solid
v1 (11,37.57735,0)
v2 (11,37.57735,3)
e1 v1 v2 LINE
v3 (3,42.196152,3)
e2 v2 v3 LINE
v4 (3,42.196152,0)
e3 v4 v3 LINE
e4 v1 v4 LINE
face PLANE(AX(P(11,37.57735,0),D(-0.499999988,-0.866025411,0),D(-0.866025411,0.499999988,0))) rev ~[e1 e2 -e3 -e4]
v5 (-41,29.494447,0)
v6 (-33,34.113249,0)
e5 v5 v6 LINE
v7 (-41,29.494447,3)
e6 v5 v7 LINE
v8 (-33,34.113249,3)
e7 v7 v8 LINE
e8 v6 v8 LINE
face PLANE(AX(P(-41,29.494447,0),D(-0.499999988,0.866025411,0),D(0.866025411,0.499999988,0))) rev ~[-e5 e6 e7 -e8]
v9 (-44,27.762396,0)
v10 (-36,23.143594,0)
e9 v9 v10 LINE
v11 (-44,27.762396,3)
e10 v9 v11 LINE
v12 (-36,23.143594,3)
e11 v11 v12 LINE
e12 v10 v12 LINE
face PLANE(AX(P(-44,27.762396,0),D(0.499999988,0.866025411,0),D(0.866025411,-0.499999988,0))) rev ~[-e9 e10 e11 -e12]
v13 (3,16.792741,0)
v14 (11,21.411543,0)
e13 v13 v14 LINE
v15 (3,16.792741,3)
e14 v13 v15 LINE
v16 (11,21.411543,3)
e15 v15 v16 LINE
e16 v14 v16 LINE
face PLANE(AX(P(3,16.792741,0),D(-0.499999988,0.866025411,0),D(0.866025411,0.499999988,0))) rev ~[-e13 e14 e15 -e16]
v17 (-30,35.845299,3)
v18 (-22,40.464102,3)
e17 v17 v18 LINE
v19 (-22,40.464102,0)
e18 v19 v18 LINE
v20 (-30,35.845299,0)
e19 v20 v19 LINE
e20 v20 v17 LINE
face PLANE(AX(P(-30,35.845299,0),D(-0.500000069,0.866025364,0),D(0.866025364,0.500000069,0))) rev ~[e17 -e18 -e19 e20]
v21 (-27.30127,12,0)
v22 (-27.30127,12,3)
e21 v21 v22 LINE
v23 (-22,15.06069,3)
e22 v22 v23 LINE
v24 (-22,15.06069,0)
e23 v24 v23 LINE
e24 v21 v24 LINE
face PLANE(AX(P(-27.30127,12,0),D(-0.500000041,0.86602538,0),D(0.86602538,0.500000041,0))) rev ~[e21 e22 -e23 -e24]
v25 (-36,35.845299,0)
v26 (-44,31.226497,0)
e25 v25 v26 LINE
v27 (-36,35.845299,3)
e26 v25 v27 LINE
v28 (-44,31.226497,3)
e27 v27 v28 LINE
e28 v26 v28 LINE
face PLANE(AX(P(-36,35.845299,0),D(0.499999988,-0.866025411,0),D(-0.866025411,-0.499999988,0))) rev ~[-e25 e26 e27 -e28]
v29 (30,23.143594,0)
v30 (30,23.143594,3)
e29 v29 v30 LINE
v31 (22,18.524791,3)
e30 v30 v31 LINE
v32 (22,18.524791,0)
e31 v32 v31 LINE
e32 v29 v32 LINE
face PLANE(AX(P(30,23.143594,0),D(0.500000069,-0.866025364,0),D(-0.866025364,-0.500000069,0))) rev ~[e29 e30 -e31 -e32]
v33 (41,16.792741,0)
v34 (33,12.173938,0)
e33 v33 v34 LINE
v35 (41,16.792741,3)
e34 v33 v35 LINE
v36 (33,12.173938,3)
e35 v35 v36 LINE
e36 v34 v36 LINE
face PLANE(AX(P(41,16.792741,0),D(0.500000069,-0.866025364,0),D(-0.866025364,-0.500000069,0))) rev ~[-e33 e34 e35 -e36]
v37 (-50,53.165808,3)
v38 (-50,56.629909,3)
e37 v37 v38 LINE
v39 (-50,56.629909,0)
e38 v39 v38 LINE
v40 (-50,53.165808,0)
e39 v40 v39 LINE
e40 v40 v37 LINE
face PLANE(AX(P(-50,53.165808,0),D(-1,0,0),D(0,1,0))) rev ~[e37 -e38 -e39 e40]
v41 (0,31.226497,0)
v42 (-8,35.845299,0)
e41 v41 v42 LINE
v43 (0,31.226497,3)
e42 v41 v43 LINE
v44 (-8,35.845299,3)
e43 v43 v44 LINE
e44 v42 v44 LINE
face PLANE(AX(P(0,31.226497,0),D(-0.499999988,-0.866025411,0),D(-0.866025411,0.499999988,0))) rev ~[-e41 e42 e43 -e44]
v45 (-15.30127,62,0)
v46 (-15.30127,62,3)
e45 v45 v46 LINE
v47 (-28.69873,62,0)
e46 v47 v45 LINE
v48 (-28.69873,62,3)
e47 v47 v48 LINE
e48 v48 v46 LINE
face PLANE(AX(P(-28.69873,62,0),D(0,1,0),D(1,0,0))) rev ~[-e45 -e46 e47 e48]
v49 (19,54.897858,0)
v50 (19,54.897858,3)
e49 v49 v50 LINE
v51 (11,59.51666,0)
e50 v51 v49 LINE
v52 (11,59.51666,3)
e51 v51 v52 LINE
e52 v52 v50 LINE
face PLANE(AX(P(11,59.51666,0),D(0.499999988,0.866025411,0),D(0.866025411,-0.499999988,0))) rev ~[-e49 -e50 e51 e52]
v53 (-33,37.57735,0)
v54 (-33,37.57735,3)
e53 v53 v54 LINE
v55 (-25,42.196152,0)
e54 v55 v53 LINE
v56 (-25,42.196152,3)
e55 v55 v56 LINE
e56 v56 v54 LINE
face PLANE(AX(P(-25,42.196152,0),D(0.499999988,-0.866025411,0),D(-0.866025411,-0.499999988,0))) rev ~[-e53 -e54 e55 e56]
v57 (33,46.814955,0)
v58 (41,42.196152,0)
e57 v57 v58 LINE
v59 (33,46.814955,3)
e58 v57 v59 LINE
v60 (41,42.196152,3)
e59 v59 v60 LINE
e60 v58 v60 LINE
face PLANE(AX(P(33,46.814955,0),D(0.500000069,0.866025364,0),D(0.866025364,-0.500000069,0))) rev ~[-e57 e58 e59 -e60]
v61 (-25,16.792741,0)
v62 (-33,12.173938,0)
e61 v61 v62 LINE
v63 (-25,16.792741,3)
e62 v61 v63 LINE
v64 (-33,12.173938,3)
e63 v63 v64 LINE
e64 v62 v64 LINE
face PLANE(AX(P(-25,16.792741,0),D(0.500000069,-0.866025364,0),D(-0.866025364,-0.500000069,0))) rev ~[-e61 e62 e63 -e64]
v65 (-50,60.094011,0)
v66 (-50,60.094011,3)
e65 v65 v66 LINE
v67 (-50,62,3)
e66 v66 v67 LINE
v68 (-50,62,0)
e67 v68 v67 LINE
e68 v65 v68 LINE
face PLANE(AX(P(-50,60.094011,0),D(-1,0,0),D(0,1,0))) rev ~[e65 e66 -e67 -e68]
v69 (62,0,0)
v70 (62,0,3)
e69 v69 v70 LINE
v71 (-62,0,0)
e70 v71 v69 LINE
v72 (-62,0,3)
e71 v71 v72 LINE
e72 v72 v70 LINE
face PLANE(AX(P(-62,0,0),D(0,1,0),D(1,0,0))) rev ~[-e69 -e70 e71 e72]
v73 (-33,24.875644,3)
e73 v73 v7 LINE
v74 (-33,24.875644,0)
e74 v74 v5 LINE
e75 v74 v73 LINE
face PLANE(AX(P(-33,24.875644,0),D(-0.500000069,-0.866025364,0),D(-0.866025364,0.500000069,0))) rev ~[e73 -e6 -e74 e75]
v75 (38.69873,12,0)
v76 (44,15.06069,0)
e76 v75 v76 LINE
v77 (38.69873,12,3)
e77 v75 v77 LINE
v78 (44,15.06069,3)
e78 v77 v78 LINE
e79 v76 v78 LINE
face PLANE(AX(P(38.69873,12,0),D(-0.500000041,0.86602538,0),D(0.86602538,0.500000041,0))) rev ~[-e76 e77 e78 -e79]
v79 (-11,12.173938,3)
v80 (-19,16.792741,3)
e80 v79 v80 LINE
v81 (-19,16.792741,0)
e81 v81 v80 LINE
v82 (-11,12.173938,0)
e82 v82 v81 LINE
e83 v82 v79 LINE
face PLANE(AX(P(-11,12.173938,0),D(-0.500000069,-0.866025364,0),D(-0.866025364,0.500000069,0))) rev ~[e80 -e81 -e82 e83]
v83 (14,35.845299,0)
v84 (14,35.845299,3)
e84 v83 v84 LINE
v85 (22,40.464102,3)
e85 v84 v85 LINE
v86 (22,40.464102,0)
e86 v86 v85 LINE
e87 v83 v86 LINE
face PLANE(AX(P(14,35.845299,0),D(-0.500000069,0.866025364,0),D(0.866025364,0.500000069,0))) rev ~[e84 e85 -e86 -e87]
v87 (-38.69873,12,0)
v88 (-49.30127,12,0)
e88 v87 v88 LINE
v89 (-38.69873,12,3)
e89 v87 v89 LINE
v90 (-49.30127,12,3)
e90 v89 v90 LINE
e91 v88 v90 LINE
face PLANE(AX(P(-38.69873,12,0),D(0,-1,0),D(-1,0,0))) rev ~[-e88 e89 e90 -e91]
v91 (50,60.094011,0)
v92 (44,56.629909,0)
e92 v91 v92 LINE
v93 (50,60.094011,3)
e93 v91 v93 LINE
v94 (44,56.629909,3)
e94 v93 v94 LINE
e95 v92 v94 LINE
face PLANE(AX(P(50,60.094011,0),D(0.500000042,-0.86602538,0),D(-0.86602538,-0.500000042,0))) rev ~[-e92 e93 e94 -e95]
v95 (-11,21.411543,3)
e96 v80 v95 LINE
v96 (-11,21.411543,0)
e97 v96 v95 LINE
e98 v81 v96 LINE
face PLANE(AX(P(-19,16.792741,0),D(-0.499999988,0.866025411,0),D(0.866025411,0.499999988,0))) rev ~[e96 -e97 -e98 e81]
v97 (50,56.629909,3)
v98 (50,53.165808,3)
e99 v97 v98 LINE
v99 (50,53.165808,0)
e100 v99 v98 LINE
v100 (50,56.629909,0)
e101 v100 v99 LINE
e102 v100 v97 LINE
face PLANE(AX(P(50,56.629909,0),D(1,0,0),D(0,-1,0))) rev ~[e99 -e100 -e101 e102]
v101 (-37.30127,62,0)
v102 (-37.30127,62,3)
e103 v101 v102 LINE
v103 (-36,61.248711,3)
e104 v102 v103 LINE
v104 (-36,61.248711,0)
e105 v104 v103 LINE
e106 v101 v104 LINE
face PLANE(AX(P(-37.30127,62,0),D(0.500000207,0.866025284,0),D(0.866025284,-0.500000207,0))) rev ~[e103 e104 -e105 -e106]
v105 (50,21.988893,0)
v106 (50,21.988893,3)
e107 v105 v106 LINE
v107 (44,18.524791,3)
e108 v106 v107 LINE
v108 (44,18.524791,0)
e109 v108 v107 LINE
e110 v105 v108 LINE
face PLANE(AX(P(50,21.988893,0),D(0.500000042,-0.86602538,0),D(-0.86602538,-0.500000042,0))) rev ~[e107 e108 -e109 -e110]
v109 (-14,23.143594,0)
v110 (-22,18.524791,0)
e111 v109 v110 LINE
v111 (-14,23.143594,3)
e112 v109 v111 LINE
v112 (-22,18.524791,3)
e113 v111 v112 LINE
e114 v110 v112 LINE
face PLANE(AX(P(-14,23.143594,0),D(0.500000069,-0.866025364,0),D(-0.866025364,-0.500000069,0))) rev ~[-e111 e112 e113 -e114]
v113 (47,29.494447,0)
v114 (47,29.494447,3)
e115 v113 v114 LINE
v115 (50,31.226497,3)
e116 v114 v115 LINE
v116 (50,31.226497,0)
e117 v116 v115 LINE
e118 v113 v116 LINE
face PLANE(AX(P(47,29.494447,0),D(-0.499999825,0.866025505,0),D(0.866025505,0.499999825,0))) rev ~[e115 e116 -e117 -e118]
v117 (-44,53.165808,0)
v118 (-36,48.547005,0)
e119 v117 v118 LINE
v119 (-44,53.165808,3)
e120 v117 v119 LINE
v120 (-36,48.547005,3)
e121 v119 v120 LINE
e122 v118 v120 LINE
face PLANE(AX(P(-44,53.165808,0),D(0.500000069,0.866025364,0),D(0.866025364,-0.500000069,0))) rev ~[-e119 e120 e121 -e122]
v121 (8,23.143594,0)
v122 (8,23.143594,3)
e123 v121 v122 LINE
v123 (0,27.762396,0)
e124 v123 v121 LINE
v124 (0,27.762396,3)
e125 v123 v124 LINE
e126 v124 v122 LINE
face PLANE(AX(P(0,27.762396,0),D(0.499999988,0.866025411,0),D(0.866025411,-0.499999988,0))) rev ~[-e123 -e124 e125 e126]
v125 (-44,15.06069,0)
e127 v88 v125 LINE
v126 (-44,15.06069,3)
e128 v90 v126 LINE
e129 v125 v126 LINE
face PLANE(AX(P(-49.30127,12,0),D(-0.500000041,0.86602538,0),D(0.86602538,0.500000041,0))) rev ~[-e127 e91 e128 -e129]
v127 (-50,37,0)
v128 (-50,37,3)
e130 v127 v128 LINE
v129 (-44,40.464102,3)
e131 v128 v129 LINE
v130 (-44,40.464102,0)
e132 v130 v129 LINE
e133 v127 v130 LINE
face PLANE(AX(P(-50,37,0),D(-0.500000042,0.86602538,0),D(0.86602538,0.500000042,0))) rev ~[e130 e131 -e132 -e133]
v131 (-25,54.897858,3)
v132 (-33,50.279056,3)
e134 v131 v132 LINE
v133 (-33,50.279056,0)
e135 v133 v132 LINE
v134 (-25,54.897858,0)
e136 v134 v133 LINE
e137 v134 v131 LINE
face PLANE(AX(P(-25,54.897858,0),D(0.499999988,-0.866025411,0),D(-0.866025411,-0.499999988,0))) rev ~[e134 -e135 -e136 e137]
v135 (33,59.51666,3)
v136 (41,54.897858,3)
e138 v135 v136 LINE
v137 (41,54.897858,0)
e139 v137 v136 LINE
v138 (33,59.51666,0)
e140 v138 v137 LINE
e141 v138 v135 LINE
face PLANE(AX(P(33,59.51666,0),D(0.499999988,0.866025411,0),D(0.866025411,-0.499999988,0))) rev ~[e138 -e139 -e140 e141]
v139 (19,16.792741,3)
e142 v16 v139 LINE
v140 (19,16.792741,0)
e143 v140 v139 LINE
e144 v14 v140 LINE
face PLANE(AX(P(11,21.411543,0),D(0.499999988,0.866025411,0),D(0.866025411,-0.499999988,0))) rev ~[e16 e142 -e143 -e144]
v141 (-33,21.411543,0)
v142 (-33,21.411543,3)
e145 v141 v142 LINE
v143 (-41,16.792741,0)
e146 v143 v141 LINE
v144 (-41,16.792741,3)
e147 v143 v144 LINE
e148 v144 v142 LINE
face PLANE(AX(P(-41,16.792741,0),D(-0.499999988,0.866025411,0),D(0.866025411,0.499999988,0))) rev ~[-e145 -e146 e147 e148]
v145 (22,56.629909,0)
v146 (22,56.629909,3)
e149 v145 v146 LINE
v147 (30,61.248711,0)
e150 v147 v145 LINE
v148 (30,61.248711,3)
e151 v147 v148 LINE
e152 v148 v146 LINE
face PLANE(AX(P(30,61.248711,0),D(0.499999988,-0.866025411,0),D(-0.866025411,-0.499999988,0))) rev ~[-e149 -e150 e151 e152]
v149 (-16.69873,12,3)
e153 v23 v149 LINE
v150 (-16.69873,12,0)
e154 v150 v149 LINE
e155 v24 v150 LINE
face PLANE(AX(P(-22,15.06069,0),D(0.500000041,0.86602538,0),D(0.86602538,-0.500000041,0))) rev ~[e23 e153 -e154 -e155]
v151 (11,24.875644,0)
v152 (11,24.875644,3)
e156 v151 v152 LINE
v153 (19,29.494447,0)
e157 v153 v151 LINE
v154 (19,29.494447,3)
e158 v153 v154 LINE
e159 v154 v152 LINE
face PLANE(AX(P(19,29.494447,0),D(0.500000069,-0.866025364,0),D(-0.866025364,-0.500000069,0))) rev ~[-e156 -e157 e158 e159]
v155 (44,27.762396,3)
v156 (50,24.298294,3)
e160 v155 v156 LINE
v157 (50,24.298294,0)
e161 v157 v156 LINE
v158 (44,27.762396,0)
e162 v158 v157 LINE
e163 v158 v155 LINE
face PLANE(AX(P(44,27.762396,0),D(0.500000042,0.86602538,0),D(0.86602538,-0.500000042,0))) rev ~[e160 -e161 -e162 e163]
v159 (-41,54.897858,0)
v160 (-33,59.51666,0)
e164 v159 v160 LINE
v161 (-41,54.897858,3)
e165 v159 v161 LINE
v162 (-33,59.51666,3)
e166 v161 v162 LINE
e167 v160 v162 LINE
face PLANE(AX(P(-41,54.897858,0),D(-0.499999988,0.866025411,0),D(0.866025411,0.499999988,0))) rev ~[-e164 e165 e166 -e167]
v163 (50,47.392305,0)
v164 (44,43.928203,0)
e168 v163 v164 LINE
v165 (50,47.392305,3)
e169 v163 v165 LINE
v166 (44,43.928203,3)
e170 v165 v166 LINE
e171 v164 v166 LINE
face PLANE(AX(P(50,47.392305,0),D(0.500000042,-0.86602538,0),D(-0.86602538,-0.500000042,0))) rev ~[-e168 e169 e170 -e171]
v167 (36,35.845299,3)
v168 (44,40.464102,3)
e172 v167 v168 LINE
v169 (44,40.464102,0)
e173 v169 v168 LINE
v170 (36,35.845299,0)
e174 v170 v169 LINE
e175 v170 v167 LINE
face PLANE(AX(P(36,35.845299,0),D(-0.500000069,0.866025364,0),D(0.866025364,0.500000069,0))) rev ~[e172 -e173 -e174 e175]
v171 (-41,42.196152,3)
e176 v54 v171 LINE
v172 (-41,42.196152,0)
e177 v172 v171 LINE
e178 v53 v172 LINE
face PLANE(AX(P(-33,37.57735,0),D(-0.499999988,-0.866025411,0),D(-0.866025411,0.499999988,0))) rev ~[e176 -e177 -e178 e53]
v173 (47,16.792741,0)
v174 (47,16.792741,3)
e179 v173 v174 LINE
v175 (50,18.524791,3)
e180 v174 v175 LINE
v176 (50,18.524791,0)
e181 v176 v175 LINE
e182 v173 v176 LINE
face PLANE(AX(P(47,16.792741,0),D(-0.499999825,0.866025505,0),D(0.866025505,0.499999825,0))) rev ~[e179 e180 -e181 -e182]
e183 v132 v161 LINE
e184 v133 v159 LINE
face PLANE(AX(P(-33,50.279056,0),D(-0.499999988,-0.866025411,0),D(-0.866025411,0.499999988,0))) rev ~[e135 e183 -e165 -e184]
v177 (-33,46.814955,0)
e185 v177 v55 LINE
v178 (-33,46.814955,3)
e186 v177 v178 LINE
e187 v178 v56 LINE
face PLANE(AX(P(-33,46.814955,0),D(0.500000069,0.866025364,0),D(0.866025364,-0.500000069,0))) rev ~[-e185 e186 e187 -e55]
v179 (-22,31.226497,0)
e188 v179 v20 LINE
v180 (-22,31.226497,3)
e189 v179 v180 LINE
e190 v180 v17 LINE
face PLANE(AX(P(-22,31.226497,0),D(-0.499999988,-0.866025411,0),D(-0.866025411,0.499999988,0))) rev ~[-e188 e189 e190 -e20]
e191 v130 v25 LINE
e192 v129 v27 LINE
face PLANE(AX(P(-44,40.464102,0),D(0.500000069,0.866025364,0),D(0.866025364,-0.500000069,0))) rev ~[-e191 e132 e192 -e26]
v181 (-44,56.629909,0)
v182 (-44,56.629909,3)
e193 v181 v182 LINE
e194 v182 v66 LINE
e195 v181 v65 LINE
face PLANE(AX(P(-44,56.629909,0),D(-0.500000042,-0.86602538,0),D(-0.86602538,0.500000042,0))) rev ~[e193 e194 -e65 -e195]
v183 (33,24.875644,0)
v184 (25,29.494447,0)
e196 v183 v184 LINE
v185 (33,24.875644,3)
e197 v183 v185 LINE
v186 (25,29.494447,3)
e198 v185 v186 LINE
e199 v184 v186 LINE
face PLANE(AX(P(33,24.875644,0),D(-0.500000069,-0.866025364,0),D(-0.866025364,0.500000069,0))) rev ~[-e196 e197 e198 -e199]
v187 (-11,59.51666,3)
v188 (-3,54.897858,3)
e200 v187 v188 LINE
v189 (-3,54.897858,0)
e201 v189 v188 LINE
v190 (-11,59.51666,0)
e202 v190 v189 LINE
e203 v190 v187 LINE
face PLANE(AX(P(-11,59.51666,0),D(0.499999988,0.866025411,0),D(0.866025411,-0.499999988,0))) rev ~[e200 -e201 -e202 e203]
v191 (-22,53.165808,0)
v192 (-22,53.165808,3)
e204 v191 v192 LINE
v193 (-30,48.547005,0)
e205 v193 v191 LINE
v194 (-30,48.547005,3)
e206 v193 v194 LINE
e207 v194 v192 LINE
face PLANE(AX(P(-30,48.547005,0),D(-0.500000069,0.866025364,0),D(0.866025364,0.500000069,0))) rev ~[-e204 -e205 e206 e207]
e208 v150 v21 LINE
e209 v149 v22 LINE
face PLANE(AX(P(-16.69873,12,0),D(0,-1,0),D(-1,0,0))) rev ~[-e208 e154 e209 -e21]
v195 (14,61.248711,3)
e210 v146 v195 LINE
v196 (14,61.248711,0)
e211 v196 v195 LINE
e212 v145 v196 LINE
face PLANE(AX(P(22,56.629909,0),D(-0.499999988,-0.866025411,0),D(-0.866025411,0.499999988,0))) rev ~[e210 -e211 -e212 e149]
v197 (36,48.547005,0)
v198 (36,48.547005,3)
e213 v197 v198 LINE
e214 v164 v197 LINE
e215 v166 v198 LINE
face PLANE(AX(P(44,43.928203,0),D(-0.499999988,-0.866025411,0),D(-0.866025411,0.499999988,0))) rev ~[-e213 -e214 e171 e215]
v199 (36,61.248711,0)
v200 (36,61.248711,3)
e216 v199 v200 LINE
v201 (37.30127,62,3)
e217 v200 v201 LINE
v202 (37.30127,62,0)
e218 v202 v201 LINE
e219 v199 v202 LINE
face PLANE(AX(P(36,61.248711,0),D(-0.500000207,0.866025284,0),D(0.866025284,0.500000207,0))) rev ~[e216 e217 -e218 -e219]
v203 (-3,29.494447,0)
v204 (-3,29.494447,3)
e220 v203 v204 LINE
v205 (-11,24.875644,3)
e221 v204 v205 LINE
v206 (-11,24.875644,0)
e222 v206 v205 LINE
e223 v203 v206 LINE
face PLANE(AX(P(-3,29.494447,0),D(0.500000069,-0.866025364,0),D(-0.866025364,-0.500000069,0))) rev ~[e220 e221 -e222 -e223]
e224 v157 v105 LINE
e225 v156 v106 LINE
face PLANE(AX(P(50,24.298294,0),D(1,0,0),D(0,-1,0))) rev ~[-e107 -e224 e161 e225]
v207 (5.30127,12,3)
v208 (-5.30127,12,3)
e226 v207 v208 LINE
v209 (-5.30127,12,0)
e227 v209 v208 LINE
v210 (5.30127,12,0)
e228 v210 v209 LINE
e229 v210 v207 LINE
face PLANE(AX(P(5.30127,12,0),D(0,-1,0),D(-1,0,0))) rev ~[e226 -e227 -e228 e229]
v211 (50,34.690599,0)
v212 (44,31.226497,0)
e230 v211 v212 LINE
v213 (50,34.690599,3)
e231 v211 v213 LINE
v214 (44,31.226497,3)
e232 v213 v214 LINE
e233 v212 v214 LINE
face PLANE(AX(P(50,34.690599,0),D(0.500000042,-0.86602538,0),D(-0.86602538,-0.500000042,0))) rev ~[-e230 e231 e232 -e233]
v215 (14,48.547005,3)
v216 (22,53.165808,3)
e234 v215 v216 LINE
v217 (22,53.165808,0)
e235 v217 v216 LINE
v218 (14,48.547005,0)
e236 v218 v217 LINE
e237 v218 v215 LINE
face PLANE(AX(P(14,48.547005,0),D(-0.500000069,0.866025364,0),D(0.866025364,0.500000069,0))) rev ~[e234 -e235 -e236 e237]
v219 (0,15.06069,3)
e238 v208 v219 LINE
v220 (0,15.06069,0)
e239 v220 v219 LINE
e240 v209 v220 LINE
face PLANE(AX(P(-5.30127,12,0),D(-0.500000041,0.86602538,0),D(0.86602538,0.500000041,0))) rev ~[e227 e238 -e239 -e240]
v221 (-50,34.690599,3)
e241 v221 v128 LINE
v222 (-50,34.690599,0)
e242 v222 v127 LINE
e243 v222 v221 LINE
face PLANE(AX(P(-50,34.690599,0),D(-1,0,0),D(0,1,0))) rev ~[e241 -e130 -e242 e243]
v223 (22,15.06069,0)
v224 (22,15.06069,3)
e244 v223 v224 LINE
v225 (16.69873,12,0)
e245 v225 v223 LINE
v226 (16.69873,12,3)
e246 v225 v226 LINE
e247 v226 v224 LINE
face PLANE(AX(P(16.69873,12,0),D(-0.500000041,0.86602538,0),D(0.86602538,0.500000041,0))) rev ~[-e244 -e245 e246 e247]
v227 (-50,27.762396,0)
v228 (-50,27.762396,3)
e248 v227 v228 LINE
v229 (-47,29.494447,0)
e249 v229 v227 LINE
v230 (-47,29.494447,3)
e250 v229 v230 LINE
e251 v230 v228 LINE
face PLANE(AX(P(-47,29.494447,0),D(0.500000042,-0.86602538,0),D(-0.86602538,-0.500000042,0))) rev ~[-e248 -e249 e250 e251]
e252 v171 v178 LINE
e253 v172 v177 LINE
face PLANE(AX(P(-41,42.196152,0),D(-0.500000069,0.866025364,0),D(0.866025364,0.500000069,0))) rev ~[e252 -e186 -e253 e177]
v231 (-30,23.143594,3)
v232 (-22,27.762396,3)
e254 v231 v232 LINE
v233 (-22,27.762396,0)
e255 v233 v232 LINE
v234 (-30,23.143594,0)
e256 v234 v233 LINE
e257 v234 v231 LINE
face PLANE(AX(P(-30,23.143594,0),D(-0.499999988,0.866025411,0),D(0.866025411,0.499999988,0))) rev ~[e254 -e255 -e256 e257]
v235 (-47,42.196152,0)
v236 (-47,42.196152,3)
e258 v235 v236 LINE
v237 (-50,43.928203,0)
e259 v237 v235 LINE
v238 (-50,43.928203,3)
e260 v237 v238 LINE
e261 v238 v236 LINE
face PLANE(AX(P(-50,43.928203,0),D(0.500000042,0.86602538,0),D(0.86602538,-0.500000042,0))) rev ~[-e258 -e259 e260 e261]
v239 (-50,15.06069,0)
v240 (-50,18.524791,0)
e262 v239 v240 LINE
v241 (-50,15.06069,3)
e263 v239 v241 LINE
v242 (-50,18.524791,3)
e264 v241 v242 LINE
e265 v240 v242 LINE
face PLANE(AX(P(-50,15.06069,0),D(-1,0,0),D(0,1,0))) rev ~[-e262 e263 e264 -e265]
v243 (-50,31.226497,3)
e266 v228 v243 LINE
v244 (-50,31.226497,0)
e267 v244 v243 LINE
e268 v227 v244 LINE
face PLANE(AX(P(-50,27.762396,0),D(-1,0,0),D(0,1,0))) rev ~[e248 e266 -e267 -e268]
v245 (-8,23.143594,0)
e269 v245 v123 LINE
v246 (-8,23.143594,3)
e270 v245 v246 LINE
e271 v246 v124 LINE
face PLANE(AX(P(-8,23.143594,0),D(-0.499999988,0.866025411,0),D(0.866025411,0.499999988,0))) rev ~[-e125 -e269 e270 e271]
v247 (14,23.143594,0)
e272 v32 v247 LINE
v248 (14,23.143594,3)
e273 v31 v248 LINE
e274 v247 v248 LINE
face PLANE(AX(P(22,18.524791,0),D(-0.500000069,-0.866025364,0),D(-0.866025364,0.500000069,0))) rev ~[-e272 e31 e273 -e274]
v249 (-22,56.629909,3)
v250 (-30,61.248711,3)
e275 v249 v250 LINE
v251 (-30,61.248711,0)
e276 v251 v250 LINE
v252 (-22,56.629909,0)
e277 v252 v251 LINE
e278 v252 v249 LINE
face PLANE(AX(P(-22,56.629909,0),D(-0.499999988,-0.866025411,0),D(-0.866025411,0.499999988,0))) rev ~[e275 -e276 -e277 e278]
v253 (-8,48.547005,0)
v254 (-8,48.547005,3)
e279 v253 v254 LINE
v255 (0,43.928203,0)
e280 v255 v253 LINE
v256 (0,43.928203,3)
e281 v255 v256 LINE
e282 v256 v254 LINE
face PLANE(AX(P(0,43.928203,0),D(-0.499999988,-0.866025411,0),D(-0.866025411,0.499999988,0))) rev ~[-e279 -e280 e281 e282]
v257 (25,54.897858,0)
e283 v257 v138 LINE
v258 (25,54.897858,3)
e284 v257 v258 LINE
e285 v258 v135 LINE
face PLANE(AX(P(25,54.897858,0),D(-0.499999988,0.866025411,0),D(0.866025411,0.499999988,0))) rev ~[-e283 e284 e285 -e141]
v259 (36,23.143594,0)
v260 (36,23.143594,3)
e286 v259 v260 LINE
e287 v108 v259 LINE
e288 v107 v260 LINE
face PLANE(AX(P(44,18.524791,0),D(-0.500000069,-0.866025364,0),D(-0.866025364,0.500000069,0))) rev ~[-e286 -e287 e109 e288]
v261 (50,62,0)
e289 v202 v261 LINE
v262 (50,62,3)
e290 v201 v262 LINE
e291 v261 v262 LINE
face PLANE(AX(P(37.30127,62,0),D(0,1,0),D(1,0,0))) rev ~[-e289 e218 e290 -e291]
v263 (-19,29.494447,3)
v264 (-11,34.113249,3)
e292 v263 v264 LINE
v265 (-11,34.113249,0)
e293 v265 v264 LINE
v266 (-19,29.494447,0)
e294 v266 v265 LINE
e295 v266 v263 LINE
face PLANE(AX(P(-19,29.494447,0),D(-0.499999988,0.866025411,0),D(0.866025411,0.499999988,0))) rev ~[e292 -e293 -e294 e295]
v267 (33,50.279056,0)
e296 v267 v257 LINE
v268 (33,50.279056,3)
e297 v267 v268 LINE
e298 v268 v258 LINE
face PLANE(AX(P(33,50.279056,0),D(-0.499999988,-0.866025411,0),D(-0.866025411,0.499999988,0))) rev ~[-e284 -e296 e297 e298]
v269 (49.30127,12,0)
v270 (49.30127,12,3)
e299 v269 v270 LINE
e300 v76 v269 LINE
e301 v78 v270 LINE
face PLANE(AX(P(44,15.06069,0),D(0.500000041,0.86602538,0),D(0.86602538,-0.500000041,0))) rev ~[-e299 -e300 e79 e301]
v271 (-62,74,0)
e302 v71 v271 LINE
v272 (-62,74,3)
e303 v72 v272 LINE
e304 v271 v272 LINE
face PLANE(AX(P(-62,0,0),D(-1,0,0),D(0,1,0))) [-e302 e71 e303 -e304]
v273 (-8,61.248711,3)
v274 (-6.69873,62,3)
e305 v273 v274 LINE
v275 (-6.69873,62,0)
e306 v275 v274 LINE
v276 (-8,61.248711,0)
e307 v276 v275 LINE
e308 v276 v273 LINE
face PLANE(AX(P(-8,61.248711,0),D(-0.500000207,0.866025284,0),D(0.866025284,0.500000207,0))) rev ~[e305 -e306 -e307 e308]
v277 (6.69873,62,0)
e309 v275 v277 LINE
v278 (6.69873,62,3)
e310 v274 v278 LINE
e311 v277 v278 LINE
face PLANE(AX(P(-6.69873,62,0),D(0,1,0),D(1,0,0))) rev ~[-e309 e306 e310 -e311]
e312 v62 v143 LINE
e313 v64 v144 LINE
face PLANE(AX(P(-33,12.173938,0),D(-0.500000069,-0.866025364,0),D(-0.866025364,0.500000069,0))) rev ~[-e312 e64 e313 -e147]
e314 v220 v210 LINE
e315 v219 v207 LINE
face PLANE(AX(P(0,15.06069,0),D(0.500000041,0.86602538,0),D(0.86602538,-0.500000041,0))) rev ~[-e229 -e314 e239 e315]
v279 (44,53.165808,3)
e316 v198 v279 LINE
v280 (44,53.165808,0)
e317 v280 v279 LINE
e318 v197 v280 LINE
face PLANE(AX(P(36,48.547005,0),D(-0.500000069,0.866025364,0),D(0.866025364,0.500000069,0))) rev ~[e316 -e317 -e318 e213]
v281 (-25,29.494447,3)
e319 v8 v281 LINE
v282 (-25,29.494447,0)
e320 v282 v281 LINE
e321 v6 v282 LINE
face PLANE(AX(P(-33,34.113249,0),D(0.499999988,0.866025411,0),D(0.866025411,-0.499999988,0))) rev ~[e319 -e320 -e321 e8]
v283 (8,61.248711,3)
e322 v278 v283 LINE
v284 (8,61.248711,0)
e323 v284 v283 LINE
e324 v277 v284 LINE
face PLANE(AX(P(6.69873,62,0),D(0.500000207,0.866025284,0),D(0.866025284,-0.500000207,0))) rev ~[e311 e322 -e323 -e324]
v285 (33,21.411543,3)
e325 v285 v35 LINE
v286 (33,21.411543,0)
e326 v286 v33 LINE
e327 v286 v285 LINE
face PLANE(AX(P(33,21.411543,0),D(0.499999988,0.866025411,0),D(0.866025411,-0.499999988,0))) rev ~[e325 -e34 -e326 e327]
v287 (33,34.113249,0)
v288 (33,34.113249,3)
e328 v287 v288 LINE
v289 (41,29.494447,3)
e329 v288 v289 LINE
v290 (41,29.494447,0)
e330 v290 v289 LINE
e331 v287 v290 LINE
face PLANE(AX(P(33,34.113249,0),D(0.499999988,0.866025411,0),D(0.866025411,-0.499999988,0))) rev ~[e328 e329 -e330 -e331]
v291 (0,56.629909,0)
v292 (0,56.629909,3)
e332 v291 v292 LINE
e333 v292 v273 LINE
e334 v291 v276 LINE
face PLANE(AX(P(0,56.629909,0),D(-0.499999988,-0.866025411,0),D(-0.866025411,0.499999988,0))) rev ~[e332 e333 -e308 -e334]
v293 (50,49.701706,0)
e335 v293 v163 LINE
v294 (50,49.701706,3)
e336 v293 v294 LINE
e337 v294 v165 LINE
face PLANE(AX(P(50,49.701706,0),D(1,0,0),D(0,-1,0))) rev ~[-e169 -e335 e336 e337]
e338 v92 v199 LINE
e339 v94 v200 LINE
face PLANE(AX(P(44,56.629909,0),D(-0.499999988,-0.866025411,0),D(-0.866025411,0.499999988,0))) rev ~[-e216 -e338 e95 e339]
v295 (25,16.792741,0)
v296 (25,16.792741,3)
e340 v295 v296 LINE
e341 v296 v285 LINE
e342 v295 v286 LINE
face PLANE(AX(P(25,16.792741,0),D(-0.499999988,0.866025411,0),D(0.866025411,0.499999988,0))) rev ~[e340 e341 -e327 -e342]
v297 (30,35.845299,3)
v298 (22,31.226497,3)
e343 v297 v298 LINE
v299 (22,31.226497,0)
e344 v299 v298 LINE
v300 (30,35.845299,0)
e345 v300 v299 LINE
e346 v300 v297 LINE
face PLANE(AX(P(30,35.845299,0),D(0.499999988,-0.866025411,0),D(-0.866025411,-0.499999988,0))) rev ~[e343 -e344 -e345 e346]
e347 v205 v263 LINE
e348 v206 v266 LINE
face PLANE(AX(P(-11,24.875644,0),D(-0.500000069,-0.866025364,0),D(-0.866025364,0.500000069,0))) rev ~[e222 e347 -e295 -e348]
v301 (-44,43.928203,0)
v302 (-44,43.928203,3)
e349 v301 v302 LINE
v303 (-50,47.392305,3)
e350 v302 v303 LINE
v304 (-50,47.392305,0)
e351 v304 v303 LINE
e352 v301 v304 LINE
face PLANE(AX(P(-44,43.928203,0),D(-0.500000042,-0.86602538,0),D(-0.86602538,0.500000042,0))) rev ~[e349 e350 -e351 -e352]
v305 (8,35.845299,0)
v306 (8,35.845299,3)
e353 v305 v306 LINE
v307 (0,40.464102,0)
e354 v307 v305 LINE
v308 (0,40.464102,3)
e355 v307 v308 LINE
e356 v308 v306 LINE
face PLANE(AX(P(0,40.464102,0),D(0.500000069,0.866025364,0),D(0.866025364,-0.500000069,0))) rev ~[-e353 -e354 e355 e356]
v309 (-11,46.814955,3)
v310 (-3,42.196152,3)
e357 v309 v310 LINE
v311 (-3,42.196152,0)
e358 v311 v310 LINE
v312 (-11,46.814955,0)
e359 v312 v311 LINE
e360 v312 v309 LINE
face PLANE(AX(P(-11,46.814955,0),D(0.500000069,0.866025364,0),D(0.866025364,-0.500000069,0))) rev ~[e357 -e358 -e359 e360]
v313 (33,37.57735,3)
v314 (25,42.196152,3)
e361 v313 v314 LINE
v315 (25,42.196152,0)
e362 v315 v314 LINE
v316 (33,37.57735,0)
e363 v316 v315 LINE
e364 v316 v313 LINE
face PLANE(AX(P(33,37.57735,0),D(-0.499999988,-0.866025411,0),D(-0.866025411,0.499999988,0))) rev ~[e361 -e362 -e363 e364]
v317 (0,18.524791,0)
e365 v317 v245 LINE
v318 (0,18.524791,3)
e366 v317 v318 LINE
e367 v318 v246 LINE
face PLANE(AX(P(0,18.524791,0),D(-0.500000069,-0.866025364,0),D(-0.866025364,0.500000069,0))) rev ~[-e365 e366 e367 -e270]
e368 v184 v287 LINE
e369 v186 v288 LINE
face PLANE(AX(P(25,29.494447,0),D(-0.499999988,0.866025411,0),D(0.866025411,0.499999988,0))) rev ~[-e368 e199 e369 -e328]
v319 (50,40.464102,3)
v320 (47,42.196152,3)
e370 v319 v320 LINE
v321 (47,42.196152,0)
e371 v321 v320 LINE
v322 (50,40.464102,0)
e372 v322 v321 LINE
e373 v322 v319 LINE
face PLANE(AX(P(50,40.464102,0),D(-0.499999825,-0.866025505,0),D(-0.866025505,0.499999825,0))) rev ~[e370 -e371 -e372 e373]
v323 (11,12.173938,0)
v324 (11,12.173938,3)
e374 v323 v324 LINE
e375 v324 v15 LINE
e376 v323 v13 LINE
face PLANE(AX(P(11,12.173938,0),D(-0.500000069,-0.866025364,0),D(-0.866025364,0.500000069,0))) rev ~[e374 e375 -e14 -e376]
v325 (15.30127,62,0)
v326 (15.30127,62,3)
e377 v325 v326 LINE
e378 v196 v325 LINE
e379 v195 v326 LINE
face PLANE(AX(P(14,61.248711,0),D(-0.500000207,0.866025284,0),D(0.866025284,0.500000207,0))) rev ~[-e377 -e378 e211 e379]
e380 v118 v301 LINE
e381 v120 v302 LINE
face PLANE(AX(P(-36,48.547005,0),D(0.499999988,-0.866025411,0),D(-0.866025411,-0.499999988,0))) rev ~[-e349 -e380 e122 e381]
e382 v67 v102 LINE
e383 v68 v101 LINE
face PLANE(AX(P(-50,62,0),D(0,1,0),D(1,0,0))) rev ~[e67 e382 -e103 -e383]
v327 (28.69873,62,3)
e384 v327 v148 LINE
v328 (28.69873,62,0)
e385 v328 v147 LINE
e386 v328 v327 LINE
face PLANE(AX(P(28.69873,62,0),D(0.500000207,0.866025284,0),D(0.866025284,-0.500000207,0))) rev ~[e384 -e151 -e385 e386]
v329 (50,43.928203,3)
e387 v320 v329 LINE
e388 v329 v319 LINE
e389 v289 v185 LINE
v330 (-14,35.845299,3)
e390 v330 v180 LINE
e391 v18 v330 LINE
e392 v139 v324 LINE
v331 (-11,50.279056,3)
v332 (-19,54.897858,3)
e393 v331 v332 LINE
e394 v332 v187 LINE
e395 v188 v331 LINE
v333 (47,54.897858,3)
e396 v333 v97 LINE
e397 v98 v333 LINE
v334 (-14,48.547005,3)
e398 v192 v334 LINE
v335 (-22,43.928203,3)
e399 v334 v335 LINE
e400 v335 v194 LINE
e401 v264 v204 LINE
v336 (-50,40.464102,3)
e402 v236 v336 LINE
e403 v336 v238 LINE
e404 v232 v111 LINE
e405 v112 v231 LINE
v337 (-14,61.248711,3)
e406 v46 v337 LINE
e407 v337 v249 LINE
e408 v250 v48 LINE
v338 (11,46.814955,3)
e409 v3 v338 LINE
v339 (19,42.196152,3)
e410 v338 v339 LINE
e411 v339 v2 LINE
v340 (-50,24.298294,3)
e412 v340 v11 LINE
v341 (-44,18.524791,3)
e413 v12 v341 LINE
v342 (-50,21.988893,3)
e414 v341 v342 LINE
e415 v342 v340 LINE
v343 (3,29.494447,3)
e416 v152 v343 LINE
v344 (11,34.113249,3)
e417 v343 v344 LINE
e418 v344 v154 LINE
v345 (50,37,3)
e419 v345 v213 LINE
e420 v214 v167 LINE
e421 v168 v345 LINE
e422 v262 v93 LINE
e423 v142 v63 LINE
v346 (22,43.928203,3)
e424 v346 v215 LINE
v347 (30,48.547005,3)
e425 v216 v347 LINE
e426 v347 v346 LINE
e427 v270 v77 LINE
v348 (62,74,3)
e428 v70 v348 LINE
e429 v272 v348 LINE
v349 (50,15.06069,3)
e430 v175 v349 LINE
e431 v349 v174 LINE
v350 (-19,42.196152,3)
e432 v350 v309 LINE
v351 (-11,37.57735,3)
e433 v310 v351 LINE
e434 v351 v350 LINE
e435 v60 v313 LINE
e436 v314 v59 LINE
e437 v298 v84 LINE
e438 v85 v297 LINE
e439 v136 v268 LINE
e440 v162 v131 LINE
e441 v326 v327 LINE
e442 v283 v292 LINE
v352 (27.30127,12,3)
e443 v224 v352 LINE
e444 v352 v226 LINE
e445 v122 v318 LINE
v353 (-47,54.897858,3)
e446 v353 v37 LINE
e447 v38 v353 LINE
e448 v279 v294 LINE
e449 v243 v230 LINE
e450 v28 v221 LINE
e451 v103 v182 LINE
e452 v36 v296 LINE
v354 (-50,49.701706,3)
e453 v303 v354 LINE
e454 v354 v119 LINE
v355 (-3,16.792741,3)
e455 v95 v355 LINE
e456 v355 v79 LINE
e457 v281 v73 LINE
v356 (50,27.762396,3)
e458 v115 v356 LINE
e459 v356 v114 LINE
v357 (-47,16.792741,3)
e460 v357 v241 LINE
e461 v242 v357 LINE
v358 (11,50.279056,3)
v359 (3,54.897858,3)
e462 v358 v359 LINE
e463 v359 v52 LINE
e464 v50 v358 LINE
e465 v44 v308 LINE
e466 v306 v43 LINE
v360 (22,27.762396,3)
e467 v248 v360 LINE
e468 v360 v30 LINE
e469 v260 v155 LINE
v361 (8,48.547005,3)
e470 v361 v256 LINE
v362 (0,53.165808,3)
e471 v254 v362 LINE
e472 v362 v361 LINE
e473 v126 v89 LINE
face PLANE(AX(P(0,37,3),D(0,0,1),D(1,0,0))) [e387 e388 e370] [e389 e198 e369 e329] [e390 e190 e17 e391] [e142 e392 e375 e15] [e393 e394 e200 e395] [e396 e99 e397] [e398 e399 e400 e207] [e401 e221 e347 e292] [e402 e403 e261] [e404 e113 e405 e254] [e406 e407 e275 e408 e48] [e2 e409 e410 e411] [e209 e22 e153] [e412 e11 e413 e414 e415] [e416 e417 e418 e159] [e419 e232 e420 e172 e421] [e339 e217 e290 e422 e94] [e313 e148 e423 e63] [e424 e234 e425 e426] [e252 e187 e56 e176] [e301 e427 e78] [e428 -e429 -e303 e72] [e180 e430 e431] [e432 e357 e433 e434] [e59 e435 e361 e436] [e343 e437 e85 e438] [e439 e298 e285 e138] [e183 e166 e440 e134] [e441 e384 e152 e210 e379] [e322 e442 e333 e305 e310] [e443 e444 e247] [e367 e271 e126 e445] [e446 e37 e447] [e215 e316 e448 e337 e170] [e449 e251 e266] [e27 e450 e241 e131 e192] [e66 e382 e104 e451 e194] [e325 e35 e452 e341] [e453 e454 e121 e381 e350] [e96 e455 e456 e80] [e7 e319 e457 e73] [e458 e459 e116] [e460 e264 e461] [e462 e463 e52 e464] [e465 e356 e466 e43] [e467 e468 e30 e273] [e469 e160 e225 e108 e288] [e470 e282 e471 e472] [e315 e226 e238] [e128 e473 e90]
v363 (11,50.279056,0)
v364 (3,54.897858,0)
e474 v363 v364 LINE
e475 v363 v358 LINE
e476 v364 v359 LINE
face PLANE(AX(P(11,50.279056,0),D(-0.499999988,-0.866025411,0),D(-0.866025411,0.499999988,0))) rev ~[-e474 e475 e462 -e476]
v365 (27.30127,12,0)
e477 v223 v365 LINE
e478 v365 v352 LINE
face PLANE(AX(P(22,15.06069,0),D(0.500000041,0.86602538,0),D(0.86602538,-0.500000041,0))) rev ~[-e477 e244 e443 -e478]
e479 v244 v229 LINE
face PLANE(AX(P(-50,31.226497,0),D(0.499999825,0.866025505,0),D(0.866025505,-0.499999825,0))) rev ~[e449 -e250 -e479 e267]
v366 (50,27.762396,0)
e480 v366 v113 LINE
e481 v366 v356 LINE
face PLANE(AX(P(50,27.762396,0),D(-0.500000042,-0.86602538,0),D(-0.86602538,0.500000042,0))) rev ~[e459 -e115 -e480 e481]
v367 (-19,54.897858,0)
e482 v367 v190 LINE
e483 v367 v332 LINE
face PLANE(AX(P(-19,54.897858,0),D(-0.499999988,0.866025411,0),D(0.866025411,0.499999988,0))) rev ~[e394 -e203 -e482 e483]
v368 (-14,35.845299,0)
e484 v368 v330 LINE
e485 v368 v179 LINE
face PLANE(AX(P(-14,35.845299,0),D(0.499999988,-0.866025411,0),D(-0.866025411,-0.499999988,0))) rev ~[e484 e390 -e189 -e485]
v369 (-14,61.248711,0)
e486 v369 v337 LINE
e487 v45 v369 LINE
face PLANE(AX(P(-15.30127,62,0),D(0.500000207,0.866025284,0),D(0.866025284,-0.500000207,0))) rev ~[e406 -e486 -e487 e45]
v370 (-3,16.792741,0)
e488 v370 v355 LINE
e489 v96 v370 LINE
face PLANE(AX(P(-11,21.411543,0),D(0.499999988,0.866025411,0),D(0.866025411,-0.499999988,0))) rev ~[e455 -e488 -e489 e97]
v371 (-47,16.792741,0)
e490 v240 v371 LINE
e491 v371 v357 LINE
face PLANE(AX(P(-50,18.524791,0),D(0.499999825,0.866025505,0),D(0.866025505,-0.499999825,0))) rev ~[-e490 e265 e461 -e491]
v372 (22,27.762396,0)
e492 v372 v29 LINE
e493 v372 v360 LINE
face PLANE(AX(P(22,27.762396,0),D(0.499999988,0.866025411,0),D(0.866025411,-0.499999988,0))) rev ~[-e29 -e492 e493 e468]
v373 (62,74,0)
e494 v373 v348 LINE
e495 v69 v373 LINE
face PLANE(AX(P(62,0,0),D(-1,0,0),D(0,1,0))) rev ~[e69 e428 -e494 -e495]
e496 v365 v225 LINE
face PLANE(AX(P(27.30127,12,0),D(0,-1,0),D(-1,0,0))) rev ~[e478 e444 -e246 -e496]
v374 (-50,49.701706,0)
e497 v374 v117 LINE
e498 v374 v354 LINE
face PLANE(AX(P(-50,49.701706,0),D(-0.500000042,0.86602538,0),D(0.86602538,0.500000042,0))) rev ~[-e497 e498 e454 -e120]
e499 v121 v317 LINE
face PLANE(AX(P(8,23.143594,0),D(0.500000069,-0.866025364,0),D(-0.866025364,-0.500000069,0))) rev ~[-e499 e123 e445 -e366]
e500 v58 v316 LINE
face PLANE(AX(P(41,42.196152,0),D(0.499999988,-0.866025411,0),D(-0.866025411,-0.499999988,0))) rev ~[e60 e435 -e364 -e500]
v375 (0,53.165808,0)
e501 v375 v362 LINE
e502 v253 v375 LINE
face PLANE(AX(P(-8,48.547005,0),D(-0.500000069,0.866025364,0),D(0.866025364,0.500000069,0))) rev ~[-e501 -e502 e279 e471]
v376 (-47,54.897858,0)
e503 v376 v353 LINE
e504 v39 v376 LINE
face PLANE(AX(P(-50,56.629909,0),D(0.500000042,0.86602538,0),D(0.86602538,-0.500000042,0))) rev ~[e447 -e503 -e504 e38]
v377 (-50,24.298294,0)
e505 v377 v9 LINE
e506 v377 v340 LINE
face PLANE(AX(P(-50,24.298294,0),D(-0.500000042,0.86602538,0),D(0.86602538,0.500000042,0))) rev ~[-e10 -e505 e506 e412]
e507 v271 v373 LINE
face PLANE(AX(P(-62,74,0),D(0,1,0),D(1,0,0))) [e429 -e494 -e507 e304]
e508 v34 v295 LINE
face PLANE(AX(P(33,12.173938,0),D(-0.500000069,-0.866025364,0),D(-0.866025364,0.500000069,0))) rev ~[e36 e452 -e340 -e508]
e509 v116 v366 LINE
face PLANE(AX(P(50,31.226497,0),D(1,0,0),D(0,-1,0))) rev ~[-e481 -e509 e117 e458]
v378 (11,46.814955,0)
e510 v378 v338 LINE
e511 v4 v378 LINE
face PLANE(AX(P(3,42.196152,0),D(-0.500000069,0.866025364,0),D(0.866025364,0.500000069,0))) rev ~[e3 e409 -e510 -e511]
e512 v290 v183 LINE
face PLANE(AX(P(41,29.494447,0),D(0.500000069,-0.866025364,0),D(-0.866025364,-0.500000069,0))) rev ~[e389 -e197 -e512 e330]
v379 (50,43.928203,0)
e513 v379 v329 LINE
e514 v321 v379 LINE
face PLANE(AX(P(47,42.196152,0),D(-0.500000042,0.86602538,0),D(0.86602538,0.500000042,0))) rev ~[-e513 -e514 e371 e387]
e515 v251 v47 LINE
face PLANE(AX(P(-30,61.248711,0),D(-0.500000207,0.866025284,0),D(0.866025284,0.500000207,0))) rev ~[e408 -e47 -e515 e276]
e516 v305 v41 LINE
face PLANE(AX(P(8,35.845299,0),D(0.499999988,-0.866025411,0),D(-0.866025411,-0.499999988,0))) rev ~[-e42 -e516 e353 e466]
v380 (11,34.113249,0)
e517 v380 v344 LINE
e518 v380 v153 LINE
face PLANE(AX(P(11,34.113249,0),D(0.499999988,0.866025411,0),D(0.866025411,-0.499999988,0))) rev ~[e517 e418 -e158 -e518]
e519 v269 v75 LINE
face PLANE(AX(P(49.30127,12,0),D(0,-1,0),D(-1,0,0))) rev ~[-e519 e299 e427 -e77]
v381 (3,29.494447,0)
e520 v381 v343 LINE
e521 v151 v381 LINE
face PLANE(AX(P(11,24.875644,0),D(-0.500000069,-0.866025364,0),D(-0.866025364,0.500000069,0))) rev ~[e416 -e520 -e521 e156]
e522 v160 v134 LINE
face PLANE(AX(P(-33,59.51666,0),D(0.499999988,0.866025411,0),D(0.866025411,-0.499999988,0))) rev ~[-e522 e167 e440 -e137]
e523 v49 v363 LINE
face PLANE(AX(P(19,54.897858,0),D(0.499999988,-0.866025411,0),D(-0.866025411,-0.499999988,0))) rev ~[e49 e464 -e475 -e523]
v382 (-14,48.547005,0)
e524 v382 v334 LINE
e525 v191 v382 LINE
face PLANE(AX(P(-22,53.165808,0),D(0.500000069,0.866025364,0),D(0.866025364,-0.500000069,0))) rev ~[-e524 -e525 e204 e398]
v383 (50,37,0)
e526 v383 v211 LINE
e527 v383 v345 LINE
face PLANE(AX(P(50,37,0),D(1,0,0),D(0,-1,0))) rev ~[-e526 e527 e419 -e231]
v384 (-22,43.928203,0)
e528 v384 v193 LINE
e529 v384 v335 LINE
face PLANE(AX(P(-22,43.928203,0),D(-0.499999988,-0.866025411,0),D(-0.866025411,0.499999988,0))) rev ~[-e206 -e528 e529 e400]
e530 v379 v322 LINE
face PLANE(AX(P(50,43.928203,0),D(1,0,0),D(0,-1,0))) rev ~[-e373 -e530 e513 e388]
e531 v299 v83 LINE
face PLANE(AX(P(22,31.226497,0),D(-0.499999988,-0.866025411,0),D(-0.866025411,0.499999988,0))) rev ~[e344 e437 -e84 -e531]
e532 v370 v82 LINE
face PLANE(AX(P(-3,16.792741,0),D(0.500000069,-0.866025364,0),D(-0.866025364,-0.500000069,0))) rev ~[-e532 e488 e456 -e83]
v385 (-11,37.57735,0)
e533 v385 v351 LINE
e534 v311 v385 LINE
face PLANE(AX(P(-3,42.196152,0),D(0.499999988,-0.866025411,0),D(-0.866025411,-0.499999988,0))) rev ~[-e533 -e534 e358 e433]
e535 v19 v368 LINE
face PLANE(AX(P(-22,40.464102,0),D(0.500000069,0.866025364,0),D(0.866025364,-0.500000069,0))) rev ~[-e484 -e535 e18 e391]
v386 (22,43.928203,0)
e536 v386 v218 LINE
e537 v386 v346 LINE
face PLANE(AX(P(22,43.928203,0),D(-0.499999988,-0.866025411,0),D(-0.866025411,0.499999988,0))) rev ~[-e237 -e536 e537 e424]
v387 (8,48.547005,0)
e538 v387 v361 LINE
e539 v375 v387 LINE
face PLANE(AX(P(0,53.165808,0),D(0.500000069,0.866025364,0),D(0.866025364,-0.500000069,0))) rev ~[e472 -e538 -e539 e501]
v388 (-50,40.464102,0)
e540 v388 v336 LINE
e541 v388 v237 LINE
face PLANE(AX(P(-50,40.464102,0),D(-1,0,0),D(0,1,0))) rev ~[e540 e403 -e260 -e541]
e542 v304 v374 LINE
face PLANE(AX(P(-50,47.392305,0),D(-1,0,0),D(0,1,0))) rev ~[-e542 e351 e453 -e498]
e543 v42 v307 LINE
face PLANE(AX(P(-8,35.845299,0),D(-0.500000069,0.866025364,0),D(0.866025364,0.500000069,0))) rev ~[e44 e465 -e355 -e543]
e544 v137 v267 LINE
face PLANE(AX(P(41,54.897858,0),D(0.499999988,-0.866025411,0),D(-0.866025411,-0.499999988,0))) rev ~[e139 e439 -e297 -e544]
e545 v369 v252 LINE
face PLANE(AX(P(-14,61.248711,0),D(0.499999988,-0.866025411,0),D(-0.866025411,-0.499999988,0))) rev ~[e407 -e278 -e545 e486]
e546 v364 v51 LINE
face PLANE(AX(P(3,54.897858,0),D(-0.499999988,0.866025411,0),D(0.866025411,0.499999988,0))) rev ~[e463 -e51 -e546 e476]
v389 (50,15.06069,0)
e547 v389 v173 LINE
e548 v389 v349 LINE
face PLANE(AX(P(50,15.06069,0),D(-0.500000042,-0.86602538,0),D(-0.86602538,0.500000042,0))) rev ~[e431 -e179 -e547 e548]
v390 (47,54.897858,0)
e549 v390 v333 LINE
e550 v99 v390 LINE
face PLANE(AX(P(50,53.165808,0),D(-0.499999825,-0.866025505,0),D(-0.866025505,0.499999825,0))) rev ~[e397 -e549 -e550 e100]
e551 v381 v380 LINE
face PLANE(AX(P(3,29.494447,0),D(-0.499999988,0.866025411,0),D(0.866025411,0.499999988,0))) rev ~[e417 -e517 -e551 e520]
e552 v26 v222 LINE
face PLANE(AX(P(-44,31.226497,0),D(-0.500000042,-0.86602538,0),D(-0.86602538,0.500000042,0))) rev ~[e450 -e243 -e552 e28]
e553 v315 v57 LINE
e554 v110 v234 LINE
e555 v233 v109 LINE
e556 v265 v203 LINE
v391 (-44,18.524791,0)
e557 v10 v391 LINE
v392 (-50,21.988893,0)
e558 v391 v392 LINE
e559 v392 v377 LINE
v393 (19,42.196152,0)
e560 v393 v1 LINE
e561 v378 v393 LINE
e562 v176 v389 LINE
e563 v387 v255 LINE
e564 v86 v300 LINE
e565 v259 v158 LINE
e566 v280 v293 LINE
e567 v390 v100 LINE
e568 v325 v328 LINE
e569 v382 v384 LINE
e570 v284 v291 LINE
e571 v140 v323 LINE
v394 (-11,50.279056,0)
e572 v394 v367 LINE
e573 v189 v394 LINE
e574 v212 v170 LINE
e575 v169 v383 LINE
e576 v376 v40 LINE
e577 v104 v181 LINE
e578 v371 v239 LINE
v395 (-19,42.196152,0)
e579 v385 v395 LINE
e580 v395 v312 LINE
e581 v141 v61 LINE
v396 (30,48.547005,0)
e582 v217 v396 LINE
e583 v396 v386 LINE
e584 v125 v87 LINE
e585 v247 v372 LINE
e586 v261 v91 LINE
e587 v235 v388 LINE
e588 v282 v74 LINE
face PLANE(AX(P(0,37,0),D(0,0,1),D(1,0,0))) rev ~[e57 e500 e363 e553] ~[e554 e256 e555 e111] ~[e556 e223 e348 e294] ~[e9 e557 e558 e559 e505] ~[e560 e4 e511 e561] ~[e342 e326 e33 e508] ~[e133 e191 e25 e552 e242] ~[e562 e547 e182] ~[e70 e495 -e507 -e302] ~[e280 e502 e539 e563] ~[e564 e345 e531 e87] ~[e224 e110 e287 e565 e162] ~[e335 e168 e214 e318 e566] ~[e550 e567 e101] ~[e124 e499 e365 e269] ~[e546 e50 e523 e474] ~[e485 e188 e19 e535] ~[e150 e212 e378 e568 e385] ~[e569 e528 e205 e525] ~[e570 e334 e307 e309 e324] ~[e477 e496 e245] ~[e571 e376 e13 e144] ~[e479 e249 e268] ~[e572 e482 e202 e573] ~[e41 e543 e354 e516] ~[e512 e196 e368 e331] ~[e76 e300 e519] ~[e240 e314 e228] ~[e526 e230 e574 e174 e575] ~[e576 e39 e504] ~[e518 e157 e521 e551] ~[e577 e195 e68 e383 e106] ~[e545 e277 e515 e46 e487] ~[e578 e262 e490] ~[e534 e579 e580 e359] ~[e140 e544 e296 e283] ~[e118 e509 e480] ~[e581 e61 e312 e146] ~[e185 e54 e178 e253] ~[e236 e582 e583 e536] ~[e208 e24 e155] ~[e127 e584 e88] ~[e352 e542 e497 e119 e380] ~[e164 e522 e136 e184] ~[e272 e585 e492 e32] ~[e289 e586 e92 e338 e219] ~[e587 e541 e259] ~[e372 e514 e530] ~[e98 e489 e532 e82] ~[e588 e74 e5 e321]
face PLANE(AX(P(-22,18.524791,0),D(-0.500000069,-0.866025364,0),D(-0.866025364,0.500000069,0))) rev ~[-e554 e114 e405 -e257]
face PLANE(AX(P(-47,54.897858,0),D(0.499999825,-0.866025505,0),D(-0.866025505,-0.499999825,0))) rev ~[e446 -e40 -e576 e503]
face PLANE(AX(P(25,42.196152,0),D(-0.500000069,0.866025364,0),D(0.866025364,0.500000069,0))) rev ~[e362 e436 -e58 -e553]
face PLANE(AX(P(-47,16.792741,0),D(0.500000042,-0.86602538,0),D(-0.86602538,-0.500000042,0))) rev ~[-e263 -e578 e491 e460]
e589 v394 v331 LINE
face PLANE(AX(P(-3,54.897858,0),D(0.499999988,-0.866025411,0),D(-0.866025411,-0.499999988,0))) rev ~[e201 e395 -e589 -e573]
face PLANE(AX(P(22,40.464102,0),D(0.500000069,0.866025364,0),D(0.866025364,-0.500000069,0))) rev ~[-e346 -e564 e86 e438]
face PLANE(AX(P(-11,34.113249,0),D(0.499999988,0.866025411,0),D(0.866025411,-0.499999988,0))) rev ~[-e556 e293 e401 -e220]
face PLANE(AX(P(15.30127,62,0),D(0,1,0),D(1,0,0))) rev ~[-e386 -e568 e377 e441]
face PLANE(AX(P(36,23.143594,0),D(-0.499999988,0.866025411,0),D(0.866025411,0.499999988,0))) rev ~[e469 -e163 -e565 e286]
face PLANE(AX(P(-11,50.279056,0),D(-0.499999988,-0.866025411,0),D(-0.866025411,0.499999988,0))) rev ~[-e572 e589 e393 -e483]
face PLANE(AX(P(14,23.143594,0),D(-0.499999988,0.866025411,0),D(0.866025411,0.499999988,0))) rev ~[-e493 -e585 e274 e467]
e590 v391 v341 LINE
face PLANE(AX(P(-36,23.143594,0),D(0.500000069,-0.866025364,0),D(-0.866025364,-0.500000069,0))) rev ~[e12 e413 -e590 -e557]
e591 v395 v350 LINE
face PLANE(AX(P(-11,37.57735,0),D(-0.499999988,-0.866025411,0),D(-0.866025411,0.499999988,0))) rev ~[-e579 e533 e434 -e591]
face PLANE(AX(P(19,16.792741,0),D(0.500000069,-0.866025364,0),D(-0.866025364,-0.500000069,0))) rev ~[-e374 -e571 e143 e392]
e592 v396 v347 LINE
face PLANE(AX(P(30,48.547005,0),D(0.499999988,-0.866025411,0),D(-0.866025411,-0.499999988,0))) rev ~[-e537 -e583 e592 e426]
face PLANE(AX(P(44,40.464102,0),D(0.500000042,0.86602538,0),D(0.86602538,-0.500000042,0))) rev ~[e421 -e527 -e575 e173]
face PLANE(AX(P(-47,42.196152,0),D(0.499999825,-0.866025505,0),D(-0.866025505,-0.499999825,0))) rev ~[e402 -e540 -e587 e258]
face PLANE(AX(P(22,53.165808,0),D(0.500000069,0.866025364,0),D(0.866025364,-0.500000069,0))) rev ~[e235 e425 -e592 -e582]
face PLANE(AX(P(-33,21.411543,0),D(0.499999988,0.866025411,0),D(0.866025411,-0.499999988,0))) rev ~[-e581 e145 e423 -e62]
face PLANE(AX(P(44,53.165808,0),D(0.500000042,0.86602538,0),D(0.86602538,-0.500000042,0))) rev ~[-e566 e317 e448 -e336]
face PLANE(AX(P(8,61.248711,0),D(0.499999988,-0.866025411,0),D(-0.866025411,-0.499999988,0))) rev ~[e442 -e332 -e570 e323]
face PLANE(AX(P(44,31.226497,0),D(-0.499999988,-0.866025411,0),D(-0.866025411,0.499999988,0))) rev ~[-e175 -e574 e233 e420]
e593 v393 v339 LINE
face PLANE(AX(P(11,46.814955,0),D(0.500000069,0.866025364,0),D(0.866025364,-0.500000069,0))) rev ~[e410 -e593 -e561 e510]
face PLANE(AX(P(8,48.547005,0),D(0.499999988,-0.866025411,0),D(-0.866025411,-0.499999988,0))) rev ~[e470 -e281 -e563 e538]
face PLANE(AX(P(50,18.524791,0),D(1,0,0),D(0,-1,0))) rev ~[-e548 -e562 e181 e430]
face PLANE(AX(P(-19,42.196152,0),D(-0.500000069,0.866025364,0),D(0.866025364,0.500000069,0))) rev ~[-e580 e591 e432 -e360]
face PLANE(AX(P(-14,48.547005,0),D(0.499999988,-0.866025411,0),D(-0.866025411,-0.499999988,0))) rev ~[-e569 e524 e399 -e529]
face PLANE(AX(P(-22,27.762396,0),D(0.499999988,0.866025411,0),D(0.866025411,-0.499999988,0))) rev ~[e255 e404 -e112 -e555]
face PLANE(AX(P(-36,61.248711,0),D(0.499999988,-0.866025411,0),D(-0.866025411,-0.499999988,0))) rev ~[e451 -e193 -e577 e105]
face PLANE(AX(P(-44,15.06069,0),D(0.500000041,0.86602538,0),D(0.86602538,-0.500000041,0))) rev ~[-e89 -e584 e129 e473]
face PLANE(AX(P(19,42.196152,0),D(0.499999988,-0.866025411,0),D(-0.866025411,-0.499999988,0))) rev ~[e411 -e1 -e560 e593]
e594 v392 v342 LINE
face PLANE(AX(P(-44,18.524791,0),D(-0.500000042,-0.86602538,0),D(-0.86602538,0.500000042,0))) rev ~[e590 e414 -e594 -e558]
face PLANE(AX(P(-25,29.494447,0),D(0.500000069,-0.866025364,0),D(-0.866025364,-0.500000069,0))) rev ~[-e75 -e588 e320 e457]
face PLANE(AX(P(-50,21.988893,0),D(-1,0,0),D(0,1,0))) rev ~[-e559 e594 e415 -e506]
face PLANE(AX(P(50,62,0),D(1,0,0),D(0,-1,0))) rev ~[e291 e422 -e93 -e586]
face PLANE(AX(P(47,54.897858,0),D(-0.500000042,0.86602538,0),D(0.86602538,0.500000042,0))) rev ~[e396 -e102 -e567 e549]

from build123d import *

# Parameters (mm, degrees)
F0_W     = 124
F0_H     = 74
F1_DEPTH = 3


with BuildPart() as f1:
    # F0 (on Top) → F1 (new body)
    with BuildSketch(Plane.XY):
        with Locations((0, 37)):
            Rectangle(F0_W, F0_H)
        Polygon((-47, 16.792741), (-50, 15.06069), (-50, 18.524791), align=None, mode=Mode.SUBTRACT)
        Polygon((-38.69873, 12), (-49.30127, 12), (-44, 15.06069), align=None, mode=Mode.SUBTRACT)
        Polygon((-25, 16.792741), (-33, 12.173938), (-41, 16.792741), (-33, 21.411543), align=None, mode=Mode.SUBTRACT)
        Polygon((-16.69873, 12), (-27.30127, 12), (-22, 15.06069), align=None, mode=Mode.SUBTRACT)
        Polygon((5.30127, 12), (-5.30127, 12), (0, 15.06069), align=None, mode=Mode.SUBTRACT)
        Polygon((-3, 16.792741), (-11, 12.173938), (-19, 16.792741), (-11, 21.411543), align=None, mode=Mode.SUBTRACT)
        Polygon((-50, 21.988893), (-50, 24.298294), (-44, 27.762396), (-36, 23.143594), (-44, 18.524791), align=None, mode=Mode.SUBTRACT)
        Polygon((-47, 29.494447), (-50, 27.762396), (-50, 31.226497), align=None, mode=Mode.SUBTRACT)
        Polygon((-33, 24.875644), (-41, 29.494447), (-33, 34.113249), (-25, 29.494447), align=None, mode=Mode.SUBTRACT)
        Polygon((-50, 34.690599), (-50, 37), (-44, 40.464102), (-36, 35.845299), (-44, 31.226497), align=None, mode=Mode.SUBTRACT)
        Polygon((-22, 18.524791), (-30, 23.143594), (-22, 27.762396), (-14, 23.143594), align=None, mode=Mode.SUBTRACT)
        Polygon((-22, 31.226497), (-30, 35.845299), (-22, 40.464102), (-14, 35.845299), align=None, mode=Mode.SUBTRACT)
        Polygon((-3, 29.494447), (-11, 24.875644), (-19, 29.494447), (-11, 34.113249), align=None, mode=Mode.SUBTRACT)
        Polygon((19, 16.792741), (11, 12.173938), (3, 16.792741), (11, 21.411543), align=None, mode=Mode.SUBTRACT)
        Polygon((27.30127, 12), (16.69873, 12), (22, 15.06069), align=None, mode=Mode.SUBTRACT)
        Polygon((49.30127, 12), (38.69873, 12), (44, 15.06069), align=None, mode=Mode.SUBTRACT)
        Polygon((41, 16.792741), (33, 12.173938), (25, 16.792741), (33, 21.411543), align=None, mode=Mode.SUBTRACT)
        Polygon((50, 18.524791), (50, 15.06069), (47, 16.792741), align=None, mode=Mode.SUBTRACT)
        Polygon((0, 18.524791), (-8, 23.143594), (0, 27.762396), (8, 23.143594), align=None, mode=Mode.SUBTRACT)
        Polygon((22, 18.524791), (14, 23.143594), (22, 27.762396), (30, 23.143594), align=None, mode=Mode.SUBTRACT)
        Polygon((11, 24.875644), (3, 29.494447), (11, 34.113249), (19, 29.494447), align=None, mode=Mode.SUBTRACT)
        Polygon((0, 31.226497), (-8, 35.845299), (0, 40.464102), (8, 35.845299), align=None, mode=Mode.SUBTRACT)
        Polygon((22, 40.464102), (30, 35.845299), (22, 31.226497), (14, 35.845299), align=None, mode=Mode.SUBTRACT)
        Polygon((44, 27.762396), (50, 24.298294), (50, 21.988893), (44, 18.524791), (36, 23.143594), align=None, mode=Mode.SUBTRACT)
        Polygon((33, 34.113249), (41, 29.494447), (33, 24.875644), (25, 29.494447), align=None, mode=Mode.SUBTRACT)
        Polygon((50, 37), (50, 34.690599), (44, 31.226497), (36, 35.845299), (44, 40.464102), align=None, mode=Mode.SUBTRACT)
        Polygon((50, 31.226497), (50, 27.762396), (47, 29.494447), align=None, mode=Mode.SUBTRACT)
        Polygon((-47, 42.196152), (-50, 40.464102), (-50, 43.928203), align=None, mode=Mode.SUBTRACT)
        Polygon((-25, 42.196152), (-33, 37.57735), (-41, 42.196152), (-33, 46.814955), align=None, mode=Mode.SUBTRACT)
        Polygon((-47, 54.897858), (-50, 53.165808), (-50, 56.629909), align=None, mode=Mode.SUBTRACT)
        Polygon((-50, 47.392305), (-50, 49.701706), (-44, 53.165808), (-36, 48.547005), (-44, 43.928203), align=None, mode=Mode.SUBTRACT)
        Polygon((-25, 54.897858), (-33, 50.279056), (-41, 54.897858), (-33, 59.51666), align=None, mode=Mode.SUBTRACT)
        Polygon((-11, 37.57735), (-19, 42.196152), (-11, 46.814955), (-3, 42.196152), align=None, mode=Mode.SUBTRACT)
        Polygon((-22, 43.928203), (-30, 48.547005), (-22, 53.165808), (-14, 48.547005), align=None, mode=Mode.SUBTRACT)
        Polygon((-11, 50.279056), (-19, 54.897858), (-11, 59.51666), (-3, 54.897858), align=None, mode=Mode.SUBTRACT)
        Polygon((-50, 60.094011), (-50, 62), (-37.30127, 62), (-36, 61.248711), (-44, 56.629909), align=None, mode=Mode.SUBTRACT)
        Polygon((-22, 56.629909), (-30, 61.248711), (-28.69873, 62), (-15.30127, 62), (-14, 61.248711), align=None, mode=Mode.SUBTRACT)
        Polygon((11, 37.57735), (3, 42.196152), (11, 46.814955), (19, 42.196152), align=None, mode=Mode.SUBTRACT)
        Polygon((0, 43.928203), (-8, 48.547005), (0, 53.165808), (8, 48.547005), align=None, mode=Mode.SUBTRACT)
        Polygon((11, 50.279056), (3, 54.897858), (11, 59.51666), (19, 54.897858), align=None, mode=Mode.SUBTRACT)
        Polygon((22, 43.928203), (14, 48.547005), (22, 53.165808), (30, 48.547005), align=None, mode=Mode.SUBTRACT)
        Polygon((33, 46.814955), (41, 42.196152), (33, 37.57735), (25, 42.196152), align=None, mode=Mode.SUBTRACT)
        Polygon((50, 43.928203), (50, 40.464102), (47, 42.196152), align=None, mode=Mode.SUBTRACT)
        Polygon((44, 53.165808), (50, 49.701706), (50, 47.392305), (44, 43.928203), (36, 48.547005), align=None, mode=Mode.SUBTRACT)
        Polygon((33, 50.279056), (25, 54.897858), (33, 59.51666), (41, 54.897858), align=None, mode=Mode.SUBTRACT)
        Polygon((50, 56.629909), (50, 53.165808), (47, 54.897858), align=None, mode=Mode.SUBTRACT)
        Polygon((-8, 61.248711), (-6.69873, 62), (6.69873, 62), (8, 61.248711), (0, 56.629909), align=None, mode=Mode.SUBTRACT)
        Polygon((14, 61.248711), (15.30127, 62), (28.69873, 62), (30, 61.248711), (22, 56.629909), align=None, mode=Mode.SUBTRACT)
        Polygon((37.30127, 62), (50, 62), (50, 60.094011), (44, 56.629909), (36, 61.248711), align=None, mode=Mode.SUBTRACT)
    extrude(amount=F1_DEPTH)


solid = f1.part
